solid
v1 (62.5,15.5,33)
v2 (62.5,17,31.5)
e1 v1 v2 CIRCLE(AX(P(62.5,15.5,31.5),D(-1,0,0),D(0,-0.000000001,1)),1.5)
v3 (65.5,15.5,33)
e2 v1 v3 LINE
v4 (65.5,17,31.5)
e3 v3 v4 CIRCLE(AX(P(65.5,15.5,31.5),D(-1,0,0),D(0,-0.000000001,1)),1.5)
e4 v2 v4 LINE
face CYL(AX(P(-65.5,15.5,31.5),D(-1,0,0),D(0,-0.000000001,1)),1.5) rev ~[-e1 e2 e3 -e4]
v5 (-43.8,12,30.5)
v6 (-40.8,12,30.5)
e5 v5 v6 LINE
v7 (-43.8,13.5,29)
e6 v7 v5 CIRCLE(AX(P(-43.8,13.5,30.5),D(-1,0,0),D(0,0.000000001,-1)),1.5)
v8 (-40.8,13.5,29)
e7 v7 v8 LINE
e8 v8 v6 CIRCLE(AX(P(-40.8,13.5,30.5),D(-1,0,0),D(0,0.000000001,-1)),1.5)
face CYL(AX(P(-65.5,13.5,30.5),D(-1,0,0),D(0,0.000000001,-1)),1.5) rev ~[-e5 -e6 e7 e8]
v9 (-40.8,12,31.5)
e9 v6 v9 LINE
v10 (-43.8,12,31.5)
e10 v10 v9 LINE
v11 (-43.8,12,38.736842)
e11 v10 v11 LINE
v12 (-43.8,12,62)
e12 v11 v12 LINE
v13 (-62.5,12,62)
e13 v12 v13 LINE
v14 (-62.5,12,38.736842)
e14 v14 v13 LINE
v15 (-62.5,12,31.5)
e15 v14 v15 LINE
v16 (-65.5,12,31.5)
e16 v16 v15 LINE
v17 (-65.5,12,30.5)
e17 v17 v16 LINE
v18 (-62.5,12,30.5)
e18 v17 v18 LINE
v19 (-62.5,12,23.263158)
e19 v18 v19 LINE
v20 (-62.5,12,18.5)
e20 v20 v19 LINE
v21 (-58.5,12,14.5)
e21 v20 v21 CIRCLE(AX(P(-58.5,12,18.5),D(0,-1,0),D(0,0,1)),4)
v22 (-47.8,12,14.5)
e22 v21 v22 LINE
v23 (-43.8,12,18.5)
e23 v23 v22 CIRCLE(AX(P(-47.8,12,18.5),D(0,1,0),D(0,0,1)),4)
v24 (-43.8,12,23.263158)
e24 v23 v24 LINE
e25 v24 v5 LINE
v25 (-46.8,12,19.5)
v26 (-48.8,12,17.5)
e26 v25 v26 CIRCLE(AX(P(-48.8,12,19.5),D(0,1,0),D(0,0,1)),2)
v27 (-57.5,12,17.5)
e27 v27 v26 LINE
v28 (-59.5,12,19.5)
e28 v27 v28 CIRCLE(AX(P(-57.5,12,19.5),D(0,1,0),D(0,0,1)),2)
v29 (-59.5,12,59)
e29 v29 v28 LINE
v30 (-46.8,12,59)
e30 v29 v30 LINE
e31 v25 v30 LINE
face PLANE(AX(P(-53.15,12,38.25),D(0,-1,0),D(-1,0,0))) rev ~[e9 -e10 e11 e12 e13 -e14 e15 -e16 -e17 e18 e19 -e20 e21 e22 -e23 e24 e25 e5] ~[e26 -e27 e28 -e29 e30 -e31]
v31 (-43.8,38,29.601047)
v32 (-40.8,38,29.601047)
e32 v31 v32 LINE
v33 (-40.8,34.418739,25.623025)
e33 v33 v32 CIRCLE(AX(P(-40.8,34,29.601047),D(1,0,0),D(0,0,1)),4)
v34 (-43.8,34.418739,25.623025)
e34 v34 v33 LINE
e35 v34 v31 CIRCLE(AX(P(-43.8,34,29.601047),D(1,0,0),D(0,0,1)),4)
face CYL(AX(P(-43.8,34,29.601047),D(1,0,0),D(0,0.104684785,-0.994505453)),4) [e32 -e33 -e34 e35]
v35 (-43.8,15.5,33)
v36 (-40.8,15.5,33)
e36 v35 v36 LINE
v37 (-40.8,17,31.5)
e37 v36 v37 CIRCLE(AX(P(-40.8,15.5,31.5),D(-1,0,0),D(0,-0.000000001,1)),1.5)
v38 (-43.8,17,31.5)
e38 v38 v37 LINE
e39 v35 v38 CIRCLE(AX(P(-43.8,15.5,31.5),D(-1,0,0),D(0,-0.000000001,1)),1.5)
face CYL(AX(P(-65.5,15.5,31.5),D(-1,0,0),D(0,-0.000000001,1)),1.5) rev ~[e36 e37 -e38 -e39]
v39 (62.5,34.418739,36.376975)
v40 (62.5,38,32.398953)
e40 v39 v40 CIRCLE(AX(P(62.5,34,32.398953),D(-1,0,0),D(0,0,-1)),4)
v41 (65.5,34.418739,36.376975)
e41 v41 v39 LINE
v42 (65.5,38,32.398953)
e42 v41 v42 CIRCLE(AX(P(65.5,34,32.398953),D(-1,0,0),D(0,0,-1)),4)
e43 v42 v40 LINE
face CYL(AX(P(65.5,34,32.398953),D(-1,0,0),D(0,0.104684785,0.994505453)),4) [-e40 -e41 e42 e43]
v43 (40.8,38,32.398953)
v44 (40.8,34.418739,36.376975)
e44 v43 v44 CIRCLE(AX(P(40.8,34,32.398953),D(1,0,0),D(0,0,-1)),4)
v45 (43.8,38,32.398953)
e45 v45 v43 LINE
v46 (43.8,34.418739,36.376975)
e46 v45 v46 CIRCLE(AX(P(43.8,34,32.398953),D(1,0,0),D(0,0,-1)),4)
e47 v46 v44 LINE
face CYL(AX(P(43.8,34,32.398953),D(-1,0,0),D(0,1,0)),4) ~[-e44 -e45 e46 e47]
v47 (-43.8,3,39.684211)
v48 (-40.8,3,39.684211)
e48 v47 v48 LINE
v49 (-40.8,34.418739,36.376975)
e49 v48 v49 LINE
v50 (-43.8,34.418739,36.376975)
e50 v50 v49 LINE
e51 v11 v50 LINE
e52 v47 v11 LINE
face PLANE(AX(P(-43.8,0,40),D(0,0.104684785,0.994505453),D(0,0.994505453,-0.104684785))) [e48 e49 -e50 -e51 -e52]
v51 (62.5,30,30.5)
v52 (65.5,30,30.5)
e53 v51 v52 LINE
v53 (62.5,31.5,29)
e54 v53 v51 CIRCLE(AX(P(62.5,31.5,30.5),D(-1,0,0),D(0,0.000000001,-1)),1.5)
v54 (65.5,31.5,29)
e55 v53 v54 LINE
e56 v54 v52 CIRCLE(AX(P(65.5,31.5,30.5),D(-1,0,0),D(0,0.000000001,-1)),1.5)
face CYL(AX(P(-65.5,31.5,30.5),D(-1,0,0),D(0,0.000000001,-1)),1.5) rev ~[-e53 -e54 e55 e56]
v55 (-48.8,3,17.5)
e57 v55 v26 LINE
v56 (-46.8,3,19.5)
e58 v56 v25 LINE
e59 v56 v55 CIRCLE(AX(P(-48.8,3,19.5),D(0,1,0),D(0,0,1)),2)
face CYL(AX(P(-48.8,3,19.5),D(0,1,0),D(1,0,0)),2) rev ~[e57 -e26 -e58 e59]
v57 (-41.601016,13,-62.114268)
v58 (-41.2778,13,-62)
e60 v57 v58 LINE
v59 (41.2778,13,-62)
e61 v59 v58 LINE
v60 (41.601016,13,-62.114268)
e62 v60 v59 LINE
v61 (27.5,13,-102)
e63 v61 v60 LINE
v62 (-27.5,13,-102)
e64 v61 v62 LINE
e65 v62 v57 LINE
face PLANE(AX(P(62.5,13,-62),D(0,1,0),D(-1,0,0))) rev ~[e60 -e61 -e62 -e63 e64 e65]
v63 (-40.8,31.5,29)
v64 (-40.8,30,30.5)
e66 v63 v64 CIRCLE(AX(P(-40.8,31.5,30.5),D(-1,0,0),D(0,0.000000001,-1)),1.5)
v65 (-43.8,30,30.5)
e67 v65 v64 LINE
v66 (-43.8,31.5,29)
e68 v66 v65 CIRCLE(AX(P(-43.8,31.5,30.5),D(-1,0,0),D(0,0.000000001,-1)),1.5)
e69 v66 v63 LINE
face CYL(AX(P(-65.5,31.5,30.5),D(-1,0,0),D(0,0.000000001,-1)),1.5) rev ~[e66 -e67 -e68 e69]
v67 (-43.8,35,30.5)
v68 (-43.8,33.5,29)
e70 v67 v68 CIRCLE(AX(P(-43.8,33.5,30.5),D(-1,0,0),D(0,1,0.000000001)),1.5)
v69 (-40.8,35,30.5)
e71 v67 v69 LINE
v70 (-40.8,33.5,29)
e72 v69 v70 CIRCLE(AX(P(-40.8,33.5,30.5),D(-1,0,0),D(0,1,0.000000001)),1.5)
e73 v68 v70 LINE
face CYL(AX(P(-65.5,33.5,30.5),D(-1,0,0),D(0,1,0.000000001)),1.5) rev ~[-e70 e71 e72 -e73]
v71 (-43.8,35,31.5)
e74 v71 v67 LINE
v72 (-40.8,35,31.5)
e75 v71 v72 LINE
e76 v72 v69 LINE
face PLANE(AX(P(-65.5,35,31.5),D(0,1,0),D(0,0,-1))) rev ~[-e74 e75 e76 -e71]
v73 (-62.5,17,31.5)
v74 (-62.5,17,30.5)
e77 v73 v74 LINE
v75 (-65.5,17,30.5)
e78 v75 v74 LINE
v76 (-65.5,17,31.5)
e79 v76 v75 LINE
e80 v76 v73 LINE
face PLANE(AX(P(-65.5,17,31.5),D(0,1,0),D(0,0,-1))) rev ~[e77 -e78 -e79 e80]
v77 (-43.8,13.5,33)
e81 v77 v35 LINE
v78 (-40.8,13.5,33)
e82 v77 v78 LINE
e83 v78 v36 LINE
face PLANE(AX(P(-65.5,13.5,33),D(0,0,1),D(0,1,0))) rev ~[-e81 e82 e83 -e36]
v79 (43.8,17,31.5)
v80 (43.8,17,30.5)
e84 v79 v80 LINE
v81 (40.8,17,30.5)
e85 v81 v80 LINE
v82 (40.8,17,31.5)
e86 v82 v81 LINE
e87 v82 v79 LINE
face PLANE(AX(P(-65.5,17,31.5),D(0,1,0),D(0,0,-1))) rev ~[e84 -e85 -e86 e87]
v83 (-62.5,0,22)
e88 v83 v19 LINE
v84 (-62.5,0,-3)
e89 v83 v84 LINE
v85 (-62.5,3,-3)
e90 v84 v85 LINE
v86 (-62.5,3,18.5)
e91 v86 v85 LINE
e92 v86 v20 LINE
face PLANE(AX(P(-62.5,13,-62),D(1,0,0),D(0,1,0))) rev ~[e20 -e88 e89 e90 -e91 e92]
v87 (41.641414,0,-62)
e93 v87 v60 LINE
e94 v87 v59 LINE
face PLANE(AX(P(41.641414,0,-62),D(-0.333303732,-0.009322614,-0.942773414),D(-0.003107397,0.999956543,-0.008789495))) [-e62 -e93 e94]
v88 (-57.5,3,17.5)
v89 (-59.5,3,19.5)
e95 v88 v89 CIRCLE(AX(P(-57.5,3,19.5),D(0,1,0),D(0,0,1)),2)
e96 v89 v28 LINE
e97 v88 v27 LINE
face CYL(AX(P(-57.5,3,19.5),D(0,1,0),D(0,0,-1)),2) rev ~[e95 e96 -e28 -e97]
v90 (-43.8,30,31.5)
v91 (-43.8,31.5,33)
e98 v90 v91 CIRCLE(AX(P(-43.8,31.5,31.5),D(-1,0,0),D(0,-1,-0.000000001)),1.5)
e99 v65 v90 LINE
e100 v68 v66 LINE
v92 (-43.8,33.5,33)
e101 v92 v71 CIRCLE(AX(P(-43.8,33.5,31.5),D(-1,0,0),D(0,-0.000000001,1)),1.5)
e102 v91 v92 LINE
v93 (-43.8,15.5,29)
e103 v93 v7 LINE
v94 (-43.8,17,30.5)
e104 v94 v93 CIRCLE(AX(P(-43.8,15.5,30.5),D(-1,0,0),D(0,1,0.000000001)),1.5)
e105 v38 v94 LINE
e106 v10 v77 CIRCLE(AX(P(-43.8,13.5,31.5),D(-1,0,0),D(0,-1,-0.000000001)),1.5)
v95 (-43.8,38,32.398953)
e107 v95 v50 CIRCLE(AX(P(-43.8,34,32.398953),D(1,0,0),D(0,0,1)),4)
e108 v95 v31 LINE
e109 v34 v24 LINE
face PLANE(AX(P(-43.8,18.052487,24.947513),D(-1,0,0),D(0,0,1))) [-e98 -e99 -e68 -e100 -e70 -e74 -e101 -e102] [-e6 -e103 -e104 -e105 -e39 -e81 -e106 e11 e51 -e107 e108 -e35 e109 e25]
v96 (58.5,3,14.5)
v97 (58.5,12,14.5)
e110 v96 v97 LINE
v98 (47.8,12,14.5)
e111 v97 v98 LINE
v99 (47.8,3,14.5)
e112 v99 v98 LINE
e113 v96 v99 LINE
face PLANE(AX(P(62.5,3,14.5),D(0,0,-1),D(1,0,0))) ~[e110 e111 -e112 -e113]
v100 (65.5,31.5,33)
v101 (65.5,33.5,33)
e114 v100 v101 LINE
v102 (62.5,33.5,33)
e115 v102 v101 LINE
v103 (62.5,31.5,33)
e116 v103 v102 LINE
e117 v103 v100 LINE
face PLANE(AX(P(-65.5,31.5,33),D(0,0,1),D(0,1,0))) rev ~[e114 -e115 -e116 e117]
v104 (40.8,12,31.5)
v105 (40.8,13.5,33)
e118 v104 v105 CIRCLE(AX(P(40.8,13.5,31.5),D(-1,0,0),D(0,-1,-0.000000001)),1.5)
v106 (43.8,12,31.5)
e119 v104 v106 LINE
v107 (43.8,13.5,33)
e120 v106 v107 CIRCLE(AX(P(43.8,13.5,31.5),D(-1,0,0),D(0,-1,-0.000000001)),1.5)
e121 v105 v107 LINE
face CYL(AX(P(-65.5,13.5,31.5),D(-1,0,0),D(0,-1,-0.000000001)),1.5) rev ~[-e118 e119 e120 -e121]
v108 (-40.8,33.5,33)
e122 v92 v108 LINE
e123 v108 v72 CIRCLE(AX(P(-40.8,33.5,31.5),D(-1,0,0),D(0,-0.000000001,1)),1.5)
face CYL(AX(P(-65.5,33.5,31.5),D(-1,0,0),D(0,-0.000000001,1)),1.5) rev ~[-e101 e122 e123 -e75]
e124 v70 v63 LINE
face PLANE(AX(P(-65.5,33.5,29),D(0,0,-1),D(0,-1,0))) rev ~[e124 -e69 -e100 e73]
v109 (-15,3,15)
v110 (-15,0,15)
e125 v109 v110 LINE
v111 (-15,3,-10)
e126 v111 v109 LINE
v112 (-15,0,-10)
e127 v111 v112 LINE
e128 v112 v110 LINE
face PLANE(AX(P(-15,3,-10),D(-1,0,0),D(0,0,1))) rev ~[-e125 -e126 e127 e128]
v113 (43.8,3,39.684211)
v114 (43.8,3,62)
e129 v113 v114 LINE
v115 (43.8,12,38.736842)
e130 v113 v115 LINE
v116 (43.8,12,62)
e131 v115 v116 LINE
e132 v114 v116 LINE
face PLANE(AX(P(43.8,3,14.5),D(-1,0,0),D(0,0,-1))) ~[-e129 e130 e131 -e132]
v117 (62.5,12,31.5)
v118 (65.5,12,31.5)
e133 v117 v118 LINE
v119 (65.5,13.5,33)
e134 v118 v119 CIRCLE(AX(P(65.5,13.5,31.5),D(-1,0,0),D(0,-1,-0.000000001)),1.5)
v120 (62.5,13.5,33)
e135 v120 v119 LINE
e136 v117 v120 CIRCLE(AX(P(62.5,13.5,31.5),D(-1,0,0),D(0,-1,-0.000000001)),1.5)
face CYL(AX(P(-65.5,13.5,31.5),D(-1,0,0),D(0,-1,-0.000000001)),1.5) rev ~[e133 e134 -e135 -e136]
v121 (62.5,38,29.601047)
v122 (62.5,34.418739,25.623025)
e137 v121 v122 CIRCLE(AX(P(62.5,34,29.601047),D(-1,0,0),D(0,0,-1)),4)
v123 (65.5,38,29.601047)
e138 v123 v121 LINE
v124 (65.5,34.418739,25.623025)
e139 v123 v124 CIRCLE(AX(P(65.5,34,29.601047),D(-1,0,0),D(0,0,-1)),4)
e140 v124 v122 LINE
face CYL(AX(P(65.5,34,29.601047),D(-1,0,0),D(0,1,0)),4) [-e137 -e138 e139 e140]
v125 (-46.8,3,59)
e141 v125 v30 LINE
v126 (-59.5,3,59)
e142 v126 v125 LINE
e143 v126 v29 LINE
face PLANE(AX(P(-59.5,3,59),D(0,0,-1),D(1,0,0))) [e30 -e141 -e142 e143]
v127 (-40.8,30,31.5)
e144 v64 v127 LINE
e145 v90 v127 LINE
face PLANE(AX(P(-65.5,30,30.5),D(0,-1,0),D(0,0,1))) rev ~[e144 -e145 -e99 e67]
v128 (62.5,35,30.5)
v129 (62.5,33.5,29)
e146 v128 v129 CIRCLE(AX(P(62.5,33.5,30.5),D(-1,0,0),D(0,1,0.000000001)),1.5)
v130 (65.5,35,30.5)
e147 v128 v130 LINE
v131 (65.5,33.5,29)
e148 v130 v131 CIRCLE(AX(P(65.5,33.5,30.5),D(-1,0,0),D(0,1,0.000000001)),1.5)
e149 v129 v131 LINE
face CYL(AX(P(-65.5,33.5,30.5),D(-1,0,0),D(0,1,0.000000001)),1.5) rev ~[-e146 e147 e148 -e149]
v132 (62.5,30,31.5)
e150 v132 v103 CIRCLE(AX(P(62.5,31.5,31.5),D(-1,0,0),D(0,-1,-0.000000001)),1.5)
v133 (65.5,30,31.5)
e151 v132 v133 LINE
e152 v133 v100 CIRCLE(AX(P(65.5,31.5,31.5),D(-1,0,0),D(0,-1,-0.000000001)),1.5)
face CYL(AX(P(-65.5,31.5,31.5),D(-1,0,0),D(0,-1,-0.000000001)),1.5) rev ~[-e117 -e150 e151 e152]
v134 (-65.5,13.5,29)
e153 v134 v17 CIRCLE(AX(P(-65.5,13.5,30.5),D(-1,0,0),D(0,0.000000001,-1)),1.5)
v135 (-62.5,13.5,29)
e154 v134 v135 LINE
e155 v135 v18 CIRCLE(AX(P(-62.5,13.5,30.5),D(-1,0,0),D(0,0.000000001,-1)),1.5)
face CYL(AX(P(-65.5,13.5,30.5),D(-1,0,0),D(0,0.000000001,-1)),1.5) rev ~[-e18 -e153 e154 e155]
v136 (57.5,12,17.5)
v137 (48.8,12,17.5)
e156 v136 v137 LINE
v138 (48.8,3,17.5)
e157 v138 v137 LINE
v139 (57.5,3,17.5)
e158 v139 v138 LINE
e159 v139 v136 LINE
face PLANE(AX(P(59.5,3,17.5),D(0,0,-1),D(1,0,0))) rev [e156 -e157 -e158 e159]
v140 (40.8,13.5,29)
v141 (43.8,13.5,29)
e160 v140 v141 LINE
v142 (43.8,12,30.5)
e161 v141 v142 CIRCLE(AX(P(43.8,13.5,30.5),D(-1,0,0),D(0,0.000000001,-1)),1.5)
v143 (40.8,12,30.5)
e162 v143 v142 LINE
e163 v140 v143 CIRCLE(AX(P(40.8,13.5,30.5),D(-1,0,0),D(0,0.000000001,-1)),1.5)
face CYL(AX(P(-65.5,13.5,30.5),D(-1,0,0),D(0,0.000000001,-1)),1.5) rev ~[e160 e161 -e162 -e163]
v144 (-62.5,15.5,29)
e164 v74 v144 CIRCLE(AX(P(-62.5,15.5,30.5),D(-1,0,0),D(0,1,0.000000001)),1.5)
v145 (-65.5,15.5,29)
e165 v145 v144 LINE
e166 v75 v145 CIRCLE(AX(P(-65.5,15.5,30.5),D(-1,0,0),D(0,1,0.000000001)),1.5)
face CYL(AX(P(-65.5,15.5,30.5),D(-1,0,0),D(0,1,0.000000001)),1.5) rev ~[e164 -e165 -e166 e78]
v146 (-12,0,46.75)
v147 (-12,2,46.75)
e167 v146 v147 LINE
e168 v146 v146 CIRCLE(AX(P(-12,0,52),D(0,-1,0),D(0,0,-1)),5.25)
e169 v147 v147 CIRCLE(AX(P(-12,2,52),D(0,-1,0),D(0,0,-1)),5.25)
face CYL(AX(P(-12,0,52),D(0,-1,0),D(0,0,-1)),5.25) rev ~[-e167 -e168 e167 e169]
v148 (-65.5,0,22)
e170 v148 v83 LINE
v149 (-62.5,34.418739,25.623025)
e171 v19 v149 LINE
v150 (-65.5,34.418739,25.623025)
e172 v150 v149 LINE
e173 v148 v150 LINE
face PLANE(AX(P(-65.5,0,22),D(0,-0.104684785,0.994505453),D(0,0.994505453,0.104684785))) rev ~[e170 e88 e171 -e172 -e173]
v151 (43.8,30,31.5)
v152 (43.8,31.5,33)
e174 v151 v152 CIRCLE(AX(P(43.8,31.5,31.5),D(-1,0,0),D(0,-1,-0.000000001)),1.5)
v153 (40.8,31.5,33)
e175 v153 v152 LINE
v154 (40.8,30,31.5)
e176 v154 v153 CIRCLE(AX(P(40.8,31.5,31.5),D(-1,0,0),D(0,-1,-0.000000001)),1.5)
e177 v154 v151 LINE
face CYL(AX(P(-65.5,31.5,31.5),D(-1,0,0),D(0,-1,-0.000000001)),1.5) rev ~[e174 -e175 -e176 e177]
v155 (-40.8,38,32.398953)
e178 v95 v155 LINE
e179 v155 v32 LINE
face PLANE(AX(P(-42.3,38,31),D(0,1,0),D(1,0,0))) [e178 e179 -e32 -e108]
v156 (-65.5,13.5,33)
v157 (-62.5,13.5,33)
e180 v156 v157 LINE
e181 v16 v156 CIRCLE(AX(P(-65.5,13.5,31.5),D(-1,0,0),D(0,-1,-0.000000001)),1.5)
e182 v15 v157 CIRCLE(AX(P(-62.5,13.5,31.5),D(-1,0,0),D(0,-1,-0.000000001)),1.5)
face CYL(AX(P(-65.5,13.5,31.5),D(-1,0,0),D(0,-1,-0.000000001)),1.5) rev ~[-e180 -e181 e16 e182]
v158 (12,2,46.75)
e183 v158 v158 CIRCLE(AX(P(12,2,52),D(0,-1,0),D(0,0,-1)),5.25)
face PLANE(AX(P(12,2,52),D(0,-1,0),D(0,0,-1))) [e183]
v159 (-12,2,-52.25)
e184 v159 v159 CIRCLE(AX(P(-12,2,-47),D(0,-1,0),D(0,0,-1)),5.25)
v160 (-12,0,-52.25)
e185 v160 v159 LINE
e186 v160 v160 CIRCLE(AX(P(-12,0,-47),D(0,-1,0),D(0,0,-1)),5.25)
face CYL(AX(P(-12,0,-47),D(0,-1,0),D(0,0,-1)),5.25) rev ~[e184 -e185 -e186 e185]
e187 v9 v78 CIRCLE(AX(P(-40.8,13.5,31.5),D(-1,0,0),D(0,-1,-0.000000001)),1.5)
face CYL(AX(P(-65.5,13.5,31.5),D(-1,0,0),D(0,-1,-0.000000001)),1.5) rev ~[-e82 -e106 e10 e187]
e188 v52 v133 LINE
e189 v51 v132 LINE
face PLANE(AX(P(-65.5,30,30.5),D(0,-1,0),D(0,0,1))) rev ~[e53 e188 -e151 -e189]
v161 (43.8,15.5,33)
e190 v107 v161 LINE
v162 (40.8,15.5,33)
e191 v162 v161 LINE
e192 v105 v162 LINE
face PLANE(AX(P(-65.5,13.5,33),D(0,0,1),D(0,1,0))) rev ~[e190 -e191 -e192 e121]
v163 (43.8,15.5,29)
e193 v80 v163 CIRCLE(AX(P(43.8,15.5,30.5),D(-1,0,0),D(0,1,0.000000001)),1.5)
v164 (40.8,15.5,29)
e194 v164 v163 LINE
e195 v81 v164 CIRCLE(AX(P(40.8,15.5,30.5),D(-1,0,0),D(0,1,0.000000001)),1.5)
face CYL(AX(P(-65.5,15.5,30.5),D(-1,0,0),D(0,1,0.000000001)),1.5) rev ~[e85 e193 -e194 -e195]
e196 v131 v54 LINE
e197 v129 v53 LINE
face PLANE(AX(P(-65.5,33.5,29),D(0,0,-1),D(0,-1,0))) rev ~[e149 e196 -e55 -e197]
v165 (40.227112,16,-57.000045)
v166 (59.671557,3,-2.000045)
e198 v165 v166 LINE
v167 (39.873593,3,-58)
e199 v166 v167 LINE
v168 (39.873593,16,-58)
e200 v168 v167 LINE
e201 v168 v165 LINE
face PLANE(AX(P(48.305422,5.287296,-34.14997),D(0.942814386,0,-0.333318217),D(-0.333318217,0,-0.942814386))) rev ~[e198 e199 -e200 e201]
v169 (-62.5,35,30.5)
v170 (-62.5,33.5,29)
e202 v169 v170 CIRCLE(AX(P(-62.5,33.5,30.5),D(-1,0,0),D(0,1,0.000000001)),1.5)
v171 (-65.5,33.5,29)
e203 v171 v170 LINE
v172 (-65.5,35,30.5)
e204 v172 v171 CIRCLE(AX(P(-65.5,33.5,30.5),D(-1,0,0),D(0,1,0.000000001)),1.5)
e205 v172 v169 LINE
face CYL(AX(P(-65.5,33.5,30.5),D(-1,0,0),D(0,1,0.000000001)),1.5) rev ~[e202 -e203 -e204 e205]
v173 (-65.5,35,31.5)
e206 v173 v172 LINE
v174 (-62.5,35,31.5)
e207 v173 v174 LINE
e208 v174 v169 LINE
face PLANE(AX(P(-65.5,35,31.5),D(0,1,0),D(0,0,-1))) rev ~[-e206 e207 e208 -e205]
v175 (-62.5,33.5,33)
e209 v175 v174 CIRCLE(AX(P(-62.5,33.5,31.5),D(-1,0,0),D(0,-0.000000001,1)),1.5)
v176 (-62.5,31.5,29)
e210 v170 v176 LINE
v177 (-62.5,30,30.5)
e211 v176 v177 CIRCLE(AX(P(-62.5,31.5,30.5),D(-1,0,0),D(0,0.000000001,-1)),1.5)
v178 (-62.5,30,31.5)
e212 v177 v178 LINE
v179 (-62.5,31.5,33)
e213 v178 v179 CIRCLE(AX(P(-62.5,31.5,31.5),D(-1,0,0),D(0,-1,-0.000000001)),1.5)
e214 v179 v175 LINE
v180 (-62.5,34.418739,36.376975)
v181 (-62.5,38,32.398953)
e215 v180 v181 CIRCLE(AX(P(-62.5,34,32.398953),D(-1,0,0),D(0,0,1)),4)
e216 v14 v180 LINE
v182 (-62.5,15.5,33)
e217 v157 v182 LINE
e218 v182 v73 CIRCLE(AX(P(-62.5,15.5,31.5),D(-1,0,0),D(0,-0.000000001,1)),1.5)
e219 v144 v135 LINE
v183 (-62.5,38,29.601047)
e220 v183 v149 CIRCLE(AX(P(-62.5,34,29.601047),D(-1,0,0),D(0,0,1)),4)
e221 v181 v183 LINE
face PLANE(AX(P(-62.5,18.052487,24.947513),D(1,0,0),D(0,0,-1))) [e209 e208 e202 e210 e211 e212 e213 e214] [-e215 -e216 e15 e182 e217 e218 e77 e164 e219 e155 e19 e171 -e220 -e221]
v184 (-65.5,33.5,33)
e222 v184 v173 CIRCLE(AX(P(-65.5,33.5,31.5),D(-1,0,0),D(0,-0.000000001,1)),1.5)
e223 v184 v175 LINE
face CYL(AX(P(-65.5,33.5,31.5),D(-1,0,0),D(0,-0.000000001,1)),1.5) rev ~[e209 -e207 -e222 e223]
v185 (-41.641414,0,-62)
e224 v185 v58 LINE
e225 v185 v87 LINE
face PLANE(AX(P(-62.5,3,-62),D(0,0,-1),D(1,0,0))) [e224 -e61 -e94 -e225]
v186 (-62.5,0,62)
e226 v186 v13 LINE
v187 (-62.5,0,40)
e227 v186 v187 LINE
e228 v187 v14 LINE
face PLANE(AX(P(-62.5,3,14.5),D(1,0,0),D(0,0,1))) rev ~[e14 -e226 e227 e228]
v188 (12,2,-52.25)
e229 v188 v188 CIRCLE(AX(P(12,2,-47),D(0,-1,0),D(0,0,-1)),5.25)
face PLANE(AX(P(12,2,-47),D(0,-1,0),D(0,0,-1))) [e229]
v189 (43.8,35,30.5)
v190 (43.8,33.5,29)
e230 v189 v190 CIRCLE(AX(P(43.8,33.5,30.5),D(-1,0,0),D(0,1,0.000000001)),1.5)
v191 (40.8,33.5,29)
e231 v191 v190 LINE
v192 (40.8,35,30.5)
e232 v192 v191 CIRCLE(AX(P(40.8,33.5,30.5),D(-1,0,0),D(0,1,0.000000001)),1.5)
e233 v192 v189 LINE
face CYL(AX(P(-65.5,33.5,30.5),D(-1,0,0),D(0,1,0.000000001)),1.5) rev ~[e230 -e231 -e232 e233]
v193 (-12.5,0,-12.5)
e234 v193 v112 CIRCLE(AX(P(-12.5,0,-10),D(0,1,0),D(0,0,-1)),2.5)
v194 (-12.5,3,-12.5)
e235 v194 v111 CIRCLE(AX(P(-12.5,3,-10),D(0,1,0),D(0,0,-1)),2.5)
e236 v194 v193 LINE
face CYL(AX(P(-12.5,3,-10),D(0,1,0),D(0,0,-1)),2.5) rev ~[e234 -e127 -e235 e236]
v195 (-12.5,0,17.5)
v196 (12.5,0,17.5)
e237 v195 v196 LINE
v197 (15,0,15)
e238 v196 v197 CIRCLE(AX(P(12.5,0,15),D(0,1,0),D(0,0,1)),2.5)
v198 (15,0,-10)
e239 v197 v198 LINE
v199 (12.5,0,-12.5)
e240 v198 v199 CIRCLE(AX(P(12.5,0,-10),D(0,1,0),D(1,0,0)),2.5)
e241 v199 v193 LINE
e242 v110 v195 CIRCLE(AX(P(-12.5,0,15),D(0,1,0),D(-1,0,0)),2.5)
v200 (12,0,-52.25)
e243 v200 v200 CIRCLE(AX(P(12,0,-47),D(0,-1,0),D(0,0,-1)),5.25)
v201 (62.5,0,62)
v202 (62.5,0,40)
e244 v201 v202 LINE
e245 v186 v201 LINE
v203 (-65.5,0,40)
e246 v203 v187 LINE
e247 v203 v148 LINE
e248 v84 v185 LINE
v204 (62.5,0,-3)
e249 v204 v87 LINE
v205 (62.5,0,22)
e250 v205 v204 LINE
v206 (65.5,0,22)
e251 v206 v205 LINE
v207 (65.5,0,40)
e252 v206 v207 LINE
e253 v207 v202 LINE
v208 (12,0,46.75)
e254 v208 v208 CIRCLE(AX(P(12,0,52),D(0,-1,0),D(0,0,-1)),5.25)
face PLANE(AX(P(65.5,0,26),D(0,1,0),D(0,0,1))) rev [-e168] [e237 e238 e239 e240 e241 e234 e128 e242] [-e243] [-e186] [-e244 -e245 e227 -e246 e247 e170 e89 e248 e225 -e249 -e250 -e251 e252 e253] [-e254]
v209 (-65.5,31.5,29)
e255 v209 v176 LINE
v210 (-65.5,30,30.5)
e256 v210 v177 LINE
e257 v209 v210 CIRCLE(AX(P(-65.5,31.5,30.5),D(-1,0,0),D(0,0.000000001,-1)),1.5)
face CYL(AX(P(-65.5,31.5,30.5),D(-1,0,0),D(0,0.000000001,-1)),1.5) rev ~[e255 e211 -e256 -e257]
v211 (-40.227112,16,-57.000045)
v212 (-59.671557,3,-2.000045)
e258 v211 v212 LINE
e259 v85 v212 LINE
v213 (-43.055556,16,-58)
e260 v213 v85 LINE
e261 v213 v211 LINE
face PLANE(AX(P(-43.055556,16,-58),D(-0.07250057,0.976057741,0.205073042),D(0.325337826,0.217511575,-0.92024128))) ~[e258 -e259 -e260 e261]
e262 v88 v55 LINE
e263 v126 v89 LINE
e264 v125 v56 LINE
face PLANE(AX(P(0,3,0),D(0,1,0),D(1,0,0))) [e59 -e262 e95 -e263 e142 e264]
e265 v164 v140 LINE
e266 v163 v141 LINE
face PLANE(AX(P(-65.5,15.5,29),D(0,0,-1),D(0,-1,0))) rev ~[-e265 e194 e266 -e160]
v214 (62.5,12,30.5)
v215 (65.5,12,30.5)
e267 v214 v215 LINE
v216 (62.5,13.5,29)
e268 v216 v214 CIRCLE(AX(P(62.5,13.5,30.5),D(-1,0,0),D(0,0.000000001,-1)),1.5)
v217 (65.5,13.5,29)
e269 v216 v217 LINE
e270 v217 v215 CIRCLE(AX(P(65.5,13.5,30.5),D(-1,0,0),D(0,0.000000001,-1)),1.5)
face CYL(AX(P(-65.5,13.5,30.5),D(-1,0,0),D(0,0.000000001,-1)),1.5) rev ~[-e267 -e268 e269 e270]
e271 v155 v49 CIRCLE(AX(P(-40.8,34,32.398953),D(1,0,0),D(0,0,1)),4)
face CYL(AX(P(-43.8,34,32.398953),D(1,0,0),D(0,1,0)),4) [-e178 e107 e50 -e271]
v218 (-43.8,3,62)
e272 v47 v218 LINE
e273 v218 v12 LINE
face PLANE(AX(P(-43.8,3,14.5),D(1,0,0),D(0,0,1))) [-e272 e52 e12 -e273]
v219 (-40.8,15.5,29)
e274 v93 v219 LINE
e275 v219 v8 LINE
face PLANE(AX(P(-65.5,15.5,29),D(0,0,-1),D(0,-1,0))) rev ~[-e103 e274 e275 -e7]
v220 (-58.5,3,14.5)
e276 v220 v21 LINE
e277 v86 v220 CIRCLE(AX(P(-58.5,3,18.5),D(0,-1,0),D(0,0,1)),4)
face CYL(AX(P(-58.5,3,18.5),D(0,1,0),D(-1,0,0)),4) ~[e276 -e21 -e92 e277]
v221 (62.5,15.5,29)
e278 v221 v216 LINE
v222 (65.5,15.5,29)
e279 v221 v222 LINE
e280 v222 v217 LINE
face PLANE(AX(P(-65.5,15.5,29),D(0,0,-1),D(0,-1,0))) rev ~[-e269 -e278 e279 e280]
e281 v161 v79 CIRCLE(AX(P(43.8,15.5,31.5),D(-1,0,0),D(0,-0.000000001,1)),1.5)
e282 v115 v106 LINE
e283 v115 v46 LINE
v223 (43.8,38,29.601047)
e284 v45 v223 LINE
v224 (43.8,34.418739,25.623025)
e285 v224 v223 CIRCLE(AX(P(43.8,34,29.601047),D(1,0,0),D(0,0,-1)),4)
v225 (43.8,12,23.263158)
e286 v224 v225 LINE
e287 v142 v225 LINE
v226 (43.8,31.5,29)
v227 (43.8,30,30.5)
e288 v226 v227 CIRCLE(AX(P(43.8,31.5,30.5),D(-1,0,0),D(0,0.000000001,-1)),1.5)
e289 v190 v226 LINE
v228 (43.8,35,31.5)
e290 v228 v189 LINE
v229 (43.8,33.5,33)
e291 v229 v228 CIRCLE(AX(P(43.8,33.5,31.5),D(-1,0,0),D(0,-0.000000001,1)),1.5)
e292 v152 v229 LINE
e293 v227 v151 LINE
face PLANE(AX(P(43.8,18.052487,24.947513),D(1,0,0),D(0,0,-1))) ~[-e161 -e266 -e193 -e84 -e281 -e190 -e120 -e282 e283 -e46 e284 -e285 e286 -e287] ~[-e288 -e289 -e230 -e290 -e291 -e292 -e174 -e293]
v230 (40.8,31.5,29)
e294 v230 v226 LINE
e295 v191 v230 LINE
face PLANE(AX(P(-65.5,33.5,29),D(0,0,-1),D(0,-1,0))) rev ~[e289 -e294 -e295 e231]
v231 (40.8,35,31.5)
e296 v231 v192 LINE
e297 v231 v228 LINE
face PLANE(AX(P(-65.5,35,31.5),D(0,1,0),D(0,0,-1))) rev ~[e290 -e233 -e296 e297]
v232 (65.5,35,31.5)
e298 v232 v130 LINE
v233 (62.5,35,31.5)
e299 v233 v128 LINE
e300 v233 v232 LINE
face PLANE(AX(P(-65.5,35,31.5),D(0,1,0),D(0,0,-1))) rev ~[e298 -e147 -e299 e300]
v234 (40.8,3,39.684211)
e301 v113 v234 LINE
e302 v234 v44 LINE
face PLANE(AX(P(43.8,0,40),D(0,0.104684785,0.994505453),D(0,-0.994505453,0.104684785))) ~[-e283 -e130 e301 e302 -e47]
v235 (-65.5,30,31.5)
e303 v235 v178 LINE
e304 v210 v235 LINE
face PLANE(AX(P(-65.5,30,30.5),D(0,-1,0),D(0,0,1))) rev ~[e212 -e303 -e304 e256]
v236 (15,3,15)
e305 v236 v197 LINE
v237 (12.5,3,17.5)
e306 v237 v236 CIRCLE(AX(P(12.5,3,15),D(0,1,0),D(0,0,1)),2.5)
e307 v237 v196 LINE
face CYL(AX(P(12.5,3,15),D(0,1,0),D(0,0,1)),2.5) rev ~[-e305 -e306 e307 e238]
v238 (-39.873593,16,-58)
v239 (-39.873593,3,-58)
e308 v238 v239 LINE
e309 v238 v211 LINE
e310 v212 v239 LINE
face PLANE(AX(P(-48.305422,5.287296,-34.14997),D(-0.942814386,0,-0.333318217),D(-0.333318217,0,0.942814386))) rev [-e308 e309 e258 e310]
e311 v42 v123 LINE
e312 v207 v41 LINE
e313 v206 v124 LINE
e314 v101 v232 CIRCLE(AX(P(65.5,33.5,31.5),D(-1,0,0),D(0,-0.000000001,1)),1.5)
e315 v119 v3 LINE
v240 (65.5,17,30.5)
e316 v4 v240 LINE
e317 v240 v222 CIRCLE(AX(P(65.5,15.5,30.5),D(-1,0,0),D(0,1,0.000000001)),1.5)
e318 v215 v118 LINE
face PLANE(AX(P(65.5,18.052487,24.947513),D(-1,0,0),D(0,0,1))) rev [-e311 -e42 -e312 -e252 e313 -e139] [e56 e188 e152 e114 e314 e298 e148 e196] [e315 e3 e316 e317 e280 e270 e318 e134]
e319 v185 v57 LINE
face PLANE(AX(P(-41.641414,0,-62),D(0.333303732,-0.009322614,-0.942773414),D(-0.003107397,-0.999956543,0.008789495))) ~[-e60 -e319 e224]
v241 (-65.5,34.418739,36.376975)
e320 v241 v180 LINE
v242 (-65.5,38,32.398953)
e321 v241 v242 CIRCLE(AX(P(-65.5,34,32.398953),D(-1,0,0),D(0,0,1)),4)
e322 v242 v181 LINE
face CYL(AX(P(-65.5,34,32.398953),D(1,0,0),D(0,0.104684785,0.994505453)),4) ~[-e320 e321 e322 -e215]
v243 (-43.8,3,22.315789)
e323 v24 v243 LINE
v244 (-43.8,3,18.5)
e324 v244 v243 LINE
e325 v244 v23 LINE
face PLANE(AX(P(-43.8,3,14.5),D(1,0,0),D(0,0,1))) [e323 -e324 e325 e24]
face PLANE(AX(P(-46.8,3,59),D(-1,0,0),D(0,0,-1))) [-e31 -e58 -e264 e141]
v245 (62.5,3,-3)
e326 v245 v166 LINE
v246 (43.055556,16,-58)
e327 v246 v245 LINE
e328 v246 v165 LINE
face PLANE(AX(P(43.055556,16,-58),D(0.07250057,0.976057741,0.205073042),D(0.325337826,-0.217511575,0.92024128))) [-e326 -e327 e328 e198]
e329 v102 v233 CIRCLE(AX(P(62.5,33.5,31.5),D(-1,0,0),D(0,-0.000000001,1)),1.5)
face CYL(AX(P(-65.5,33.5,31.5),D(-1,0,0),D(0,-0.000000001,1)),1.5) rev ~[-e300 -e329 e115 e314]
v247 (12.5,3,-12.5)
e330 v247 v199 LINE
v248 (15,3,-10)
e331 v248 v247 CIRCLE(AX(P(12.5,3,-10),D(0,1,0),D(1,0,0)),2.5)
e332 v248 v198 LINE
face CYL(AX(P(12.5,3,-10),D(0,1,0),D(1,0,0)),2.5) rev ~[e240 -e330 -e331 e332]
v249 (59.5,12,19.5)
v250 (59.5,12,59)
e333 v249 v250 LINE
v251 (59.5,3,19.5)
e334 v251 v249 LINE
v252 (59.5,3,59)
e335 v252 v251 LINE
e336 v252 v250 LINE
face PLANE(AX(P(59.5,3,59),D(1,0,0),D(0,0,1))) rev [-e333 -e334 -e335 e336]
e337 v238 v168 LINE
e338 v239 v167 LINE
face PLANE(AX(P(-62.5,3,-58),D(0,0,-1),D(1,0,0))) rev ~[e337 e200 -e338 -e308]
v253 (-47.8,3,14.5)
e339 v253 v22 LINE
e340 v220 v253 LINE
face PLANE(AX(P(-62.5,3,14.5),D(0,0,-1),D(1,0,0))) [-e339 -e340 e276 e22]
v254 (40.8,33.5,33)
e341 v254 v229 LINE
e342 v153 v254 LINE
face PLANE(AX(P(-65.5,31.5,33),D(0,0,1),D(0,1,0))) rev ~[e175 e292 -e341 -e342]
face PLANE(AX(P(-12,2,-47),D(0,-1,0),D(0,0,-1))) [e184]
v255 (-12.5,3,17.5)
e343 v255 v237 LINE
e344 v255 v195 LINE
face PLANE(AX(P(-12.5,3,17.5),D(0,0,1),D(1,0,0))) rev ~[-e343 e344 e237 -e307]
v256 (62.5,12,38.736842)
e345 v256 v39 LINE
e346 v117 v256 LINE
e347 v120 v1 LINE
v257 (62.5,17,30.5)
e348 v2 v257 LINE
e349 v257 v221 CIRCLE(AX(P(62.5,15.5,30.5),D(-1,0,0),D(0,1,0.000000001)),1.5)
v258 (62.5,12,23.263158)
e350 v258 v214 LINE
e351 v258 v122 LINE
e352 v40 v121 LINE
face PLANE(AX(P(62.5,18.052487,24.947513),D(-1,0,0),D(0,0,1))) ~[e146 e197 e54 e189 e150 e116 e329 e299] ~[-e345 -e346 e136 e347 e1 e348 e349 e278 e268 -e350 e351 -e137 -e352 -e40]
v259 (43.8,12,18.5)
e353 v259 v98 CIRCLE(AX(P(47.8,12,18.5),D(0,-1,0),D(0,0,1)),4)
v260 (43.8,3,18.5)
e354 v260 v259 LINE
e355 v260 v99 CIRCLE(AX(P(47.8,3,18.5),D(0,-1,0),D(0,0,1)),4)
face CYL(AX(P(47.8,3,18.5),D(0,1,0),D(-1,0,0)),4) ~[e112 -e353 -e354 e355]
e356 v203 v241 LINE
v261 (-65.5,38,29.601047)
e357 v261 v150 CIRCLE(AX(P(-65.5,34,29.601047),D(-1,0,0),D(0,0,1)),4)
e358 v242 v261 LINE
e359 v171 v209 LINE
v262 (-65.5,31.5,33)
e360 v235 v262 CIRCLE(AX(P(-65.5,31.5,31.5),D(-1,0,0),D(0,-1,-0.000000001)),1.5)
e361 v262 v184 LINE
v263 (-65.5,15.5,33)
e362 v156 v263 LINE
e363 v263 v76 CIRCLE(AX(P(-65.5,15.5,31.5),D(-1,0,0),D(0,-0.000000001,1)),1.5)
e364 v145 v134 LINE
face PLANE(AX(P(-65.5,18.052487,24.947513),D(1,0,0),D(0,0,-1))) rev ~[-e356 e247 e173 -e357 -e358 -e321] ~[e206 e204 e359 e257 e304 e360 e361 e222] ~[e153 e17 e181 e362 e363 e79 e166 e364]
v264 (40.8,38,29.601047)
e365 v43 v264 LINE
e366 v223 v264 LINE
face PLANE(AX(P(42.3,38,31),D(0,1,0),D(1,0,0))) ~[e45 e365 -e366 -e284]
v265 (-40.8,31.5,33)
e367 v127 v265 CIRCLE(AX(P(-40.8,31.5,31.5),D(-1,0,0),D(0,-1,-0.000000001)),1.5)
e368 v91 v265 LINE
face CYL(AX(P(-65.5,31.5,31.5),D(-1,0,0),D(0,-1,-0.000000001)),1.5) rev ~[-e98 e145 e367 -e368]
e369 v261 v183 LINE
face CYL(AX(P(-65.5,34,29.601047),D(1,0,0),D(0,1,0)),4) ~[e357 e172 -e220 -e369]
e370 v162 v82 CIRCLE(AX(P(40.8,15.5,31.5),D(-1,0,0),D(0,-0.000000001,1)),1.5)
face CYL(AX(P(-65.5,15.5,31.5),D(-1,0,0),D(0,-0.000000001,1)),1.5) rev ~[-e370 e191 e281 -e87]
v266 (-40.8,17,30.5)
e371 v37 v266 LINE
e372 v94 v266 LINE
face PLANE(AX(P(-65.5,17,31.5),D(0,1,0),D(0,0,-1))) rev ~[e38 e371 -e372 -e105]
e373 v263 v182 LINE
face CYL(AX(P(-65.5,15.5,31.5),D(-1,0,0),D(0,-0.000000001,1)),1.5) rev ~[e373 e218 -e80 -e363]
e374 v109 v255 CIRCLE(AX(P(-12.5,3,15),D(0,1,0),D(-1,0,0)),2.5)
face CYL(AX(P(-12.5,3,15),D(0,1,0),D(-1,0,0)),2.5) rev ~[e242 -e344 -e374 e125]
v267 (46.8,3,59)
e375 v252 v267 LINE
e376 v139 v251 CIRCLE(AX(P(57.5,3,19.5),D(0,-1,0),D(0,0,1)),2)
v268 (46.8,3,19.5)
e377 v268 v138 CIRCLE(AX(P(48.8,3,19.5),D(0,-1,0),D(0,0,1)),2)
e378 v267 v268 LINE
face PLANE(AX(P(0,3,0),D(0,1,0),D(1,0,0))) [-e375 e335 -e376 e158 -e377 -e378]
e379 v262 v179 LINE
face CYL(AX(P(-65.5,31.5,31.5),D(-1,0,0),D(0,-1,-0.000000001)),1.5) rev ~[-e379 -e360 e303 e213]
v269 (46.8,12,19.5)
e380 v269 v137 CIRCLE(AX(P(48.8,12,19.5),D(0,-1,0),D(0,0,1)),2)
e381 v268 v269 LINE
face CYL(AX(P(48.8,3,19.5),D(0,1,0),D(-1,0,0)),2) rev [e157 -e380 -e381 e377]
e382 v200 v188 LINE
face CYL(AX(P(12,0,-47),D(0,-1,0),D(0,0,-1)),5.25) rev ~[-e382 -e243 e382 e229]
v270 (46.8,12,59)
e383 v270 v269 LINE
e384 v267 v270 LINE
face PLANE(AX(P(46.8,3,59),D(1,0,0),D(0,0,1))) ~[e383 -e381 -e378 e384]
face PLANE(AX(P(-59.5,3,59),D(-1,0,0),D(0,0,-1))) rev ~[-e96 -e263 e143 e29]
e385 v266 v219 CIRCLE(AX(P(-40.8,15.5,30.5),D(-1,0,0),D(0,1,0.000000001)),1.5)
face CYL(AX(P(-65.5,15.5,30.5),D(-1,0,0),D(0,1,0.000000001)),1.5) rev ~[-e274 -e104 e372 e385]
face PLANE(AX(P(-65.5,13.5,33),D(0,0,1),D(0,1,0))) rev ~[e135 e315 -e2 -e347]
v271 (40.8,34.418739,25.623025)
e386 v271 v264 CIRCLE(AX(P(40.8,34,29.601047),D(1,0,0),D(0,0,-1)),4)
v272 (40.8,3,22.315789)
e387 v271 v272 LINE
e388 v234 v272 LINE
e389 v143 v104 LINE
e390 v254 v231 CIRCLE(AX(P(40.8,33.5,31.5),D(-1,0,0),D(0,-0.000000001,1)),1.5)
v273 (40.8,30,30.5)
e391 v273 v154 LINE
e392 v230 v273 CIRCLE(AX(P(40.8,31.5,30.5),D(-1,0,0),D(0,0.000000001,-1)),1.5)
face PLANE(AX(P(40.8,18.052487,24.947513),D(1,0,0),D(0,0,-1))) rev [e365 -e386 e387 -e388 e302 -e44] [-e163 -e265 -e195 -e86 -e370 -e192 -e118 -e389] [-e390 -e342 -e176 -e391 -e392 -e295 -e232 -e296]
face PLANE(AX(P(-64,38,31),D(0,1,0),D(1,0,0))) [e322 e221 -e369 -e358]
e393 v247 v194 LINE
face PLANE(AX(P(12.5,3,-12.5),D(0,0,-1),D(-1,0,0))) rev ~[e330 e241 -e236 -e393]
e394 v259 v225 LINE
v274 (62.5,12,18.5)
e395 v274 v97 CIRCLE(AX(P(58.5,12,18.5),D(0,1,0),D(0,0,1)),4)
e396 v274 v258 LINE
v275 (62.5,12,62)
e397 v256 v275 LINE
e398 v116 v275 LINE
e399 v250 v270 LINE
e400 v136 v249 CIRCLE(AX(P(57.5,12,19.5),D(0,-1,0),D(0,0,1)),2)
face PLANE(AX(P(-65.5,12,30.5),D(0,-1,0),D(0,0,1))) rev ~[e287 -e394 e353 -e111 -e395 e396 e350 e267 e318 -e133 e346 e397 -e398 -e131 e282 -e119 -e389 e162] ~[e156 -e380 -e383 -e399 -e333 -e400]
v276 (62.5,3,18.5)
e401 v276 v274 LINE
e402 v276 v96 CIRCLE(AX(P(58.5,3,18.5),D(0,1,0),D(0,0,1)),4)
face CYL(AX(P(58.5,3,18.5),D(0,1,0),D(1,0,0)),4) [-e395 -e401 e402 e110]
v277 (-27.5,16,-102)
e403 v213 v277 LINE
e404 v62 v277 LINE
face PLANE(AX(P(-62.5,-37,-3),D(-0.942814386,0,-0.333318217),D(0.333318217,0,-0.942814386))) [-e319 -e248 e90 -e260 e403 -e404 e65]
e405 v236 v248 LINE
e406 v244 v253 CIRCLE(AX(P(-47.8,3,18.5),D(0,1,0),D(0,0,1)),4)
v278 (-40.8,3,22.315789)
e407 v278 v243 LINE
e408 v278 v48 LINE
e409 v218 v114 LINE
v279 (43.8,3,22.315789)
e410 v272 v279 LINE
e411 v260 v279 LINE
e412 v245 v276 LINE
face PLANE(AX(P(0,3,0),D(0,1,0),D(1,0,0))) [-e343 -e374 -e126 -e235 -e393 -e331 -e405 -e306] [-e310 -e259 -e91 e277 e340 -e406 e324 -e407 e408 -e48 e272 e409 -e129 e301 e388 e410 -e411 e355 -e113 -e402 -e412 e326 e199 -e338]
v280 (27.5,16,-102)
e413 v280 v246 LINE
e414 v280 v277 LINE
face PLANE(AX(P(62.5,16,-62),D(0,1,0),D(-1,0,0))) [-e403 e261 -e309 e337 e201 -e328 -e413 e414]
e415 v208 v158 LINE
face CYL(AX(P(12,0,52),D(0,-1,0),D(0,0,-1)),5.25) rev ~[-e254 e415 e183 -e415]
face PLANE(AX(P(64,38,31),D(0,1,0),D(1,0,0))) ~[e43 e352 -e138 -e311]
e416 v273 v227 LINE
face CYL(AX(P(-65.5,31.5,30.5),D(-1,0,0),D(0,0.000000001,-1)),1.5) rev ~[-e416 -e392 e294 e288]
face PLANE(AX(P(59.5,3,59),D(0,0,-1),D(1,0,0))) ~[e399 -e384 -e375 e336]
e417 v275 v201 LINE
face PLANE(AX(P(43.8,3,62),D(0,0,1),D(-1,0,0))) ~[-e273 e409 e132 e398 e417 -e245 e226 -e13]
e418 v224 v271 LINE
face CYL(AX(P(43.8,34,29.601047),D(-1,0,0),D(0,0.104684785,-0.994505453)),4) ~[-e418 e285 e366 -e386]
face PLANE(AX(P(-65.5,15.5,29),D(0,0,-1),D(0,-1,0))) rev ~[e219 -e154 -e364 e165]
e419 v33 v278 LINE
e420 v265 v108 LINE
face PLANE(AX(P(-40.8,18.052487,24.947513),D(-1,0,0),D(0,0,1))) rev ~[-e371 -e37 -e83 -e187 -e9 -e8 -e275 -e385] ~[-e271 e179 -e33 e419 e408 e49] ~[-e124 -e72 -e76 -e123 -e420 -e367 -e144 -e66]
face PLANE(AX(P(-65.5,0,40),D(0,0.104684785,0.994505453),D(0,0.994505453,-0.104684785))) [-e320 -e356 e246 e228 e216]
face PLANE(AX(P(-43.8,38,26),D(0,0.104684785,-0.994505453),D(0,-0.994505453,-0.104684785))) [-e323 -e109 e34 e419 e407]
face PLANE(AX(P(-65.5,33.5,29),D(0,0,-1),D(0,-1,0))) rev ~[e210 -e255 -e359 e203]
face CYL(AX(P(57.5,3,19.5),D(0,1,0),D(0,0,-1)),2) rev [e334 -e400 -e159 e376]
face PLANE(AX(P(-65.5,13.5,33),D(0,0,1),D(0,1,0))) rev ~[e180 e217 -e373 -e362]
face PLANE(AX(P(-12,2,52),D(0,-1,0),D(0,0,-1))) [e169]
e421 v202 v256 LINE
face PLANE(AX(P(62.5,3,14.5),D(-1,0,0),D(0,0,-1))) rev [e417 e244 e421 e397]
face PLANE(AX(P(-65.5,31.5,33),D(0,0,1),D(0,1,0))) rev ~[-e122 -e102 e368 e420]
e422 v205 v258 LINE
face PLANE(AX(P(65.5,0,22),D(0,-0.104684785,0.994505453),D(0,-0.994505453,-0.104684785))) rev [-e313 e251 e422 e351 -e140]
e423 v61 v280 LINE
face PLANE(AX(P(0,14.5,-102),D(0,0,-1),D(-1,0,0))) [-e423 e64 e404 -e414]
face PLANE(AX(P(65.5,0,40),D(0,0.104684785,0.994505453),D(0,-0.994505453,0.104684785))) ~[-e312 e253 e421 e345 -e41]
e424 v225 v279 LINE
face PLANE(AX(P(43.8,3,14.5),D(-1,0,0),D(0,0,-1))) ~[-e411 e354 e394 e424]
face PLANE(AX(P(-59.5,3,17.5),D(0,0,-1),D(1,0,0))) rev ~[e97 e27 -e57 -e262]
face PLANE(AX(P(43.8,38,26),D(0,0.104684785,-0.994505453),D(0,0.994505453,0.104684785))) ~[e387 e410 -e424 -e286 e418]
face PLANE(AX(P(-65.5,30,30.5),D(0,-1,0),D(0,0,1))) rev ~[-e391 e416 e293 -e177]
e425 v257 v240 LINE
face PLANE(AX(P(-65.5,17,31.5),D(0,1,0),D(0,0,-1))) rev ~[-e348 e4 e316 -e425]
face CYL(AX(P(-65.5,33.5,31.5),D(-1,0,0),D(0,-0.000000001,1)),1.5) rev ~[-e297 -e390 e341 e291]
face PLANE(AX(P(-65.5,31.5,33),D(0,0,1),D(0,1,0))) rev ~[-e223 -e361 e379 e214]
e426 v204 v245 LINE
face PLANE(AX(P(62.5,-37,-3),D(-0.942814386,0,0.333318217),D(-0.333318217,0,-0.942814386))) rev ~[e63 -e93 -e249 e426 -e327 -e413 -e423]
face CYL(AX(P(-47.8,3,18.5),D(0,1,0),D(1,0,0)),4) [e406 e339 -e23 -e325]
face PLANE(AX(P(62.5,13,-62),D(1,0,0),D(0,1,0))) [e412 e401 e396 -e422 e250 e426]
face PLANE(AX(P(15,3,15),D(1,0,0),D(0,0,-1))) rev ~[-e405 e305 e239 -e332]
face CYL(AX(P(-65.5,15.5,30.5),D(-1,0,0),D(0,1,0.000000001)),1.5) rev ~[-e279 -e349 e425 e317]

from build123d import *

# Parameters (mm, degrees)
ESBO_O1_W             = 125
ESBO_O1_H             = 124
EXTRUS_O1_DEPTH       = 3
ESBO_O2_W             = 12.7
ESBO_O2_H             = 41.5
EXTRUS_O2_DEPTH       = 9
FILETE1_R             = 4
FILETE2_R             = 2
FILETE3_R             = 4
FILETE4_R             = 2
EXTRUS_O4_START       = -3
ESBO_O3_W             = 3
ESBO_O3_H             = 10
EXTRUS_O4_DEPTH       = 38
EXTRUS_O5_DEPTH       = 150.829903557
EXTRUS_O6_DEPTH       = 150.829903557
EXTRUS_O7_DEPTH       = 3
EXTRUS_O8_DEPTH       = 3
FILETE5_R             = 4
FILETE6_R             = 4
EXTRUS_O9_DEPTH       = 3
ESBO_O10_W            = 125
ESBO_O10_H            = 4
EXTRUS_O10_DEPTH      = 13
ESBO_O11_W            = 125
ESBO_O11_H            = 3
EXTRUS_O11_DEPTH      = 40
EXTRUS_O12_DEPTH      = 40
EXTRUS_O12_DEPTH_BACK = 40
EXTRUS_O18_DEPTH      = 3
ESBO_O16_R            = 5.25
EXTRUS_O19_DEPTH      = 2


with BuildPart() as part:
    # Esboço1 → Extrusão1 (new body)
    with BuildSketch(Plane(origin=(0, 0, 0), x_dir=(1, 0, 0), z_dir=(0, 1, 0))):
        Rectangle(ESBO_O1_W, ESBO_O1_H)
    extrude(amount=EXTRUS_O1_DEPTH)

    # Esboço2 → Extrusão2 (add)
    with BuildSketch(Plane(origin=(0, 3, 0), x_dir=(1, 0, 0), z_dir=(0, 1, 0))):
        Polygon((-62.5, -26), (-62.5, -14.5), (-43.8, -14.5), (-43.8, -62), (-62.5, -62), (-62.5, -36), align=None)
        with Locations((-53.15, -38.25)):
            Rectangle(ESBO_O2_W, ESBO_O2_H, mode=Mode.SUBTRACT)
    extrus_o2 = extrude(amount=EXTRUS_O2_DEPTH)

    # Filete1
    filete1_edges = [part.edges().sort_by_distance(p)[0] for p in [
        (-62.5, 7.5, 14.5),
        (-43.8, 7.5, 14.5),
    ]]
    fillet(filete1_edges, radius=FILETE1_R)

    # Filete2
    filete2_edges = [part.edges().sort_by_distance(p)[0] for p in [
        (-46.8, 7.5, 17.5),
        (-59.5, 7.5, 17.5),
    ]]
    fillet(filete2_edges, radius=FILETE2_R)

    # Espelhar3: Extrusão2 across plane
    add(extrus_o2.mirror(Plane(origin=(0, 0, 0), x_dir=(0, 0, 1), z_dir=(1, 0, 0))))

    # Filete3
    filete3_edges = [part.edges().sort_by_distance(p)[0] for p in [
        (62.5, 7.5, 14.5),
        (43.8, 7.5, 14.5),
    ]]
    fillet(filete3_edges, radius=FILETE3_R)

    # Filete4
    filete4_edges = [part.edges().sort_by_distance(p)[0] for p in [
        (59.5, 7.5, 17.5),
        (46.8, 7.5, 17.5),
    ]]
    fillet(filete4_edges, radius=FILETE4_R)

    # Esboço3 → Extrusão4 (add)
    with BuildSketch(Plane(origin=(0, 3, 0), x_dir=(1, 0, 0), z_dir=(0, 1, 0)).offset(EXTRUS_O4_START)):
        with Locations((-64, -31)):
            Rectangle(ESBO_O3_W, ESBO_O3_H)
        with Locations((-42.3, -31)):
            Rectangle(ESBO_O3_W, ESBO_O3_H)
    extrus_o4 = extrude(amount=EXTRUS_O4_DEPTH)

    # Espelhar6: Extrusão4 across plane
    add(extrus_o4.mirror(Plane(origin=(0, 0, 0), x_dir=(0, 0, 1), z_dir=(1, 0, 0))))

    # Esboço5 → Extrusão5 (cut, through all)
    with BuildSketch(Plane.ZY.offset(65.5)):
        with BuildLine():
            Line((30.5, 12), (31.5, 12))
            ThreePointArc((31.5, 12), (32.560660172, 12.439339828), (33, 13.5))
            Line((33, 13.5), (33, 15.5))
            ThreePointArc((33, 15.5), (32.560660172, 16.560660172), (31.5, 17))
            Line((31.5, 17), (30.5, 17))
            ThreePointArc((30.5, 17), (29.439339828, 16.560660172), (29, 15.5))
            Line((29, 15.5), (29, 13.5))
            ThreePointArc((29, 13.5), (29.439339828, 12.439339828), (30.5, 12))
        make_face()
    extrude(amount=-EXTRUS_O5_DEPTH, mode=Mode.SUBTRACT)

    # Esboço6 → Extrusão6 (cut, through all)
    with BuildSketch(Plane.ZY.offset(65.5)):
        with BuildLine():
            Line((30.5, 30), (31.5, 30))
            ThreePointArc((31.5, 30), (32.560660172, 30.439339828), (33, 31.5))
            Line((33, 31.5), (33, 33.5))
            ThreePointArc((33, 33.5), (32.560660172, 34.560660172), (31.5, 35))
            Line((31.5, 35), (30.5, 35))
            ThreePointArc((30.5, 35), (29.439339828, 34.560660172), (29, 33.5))
            Line((29, 33.5), (29, 31.5))
            ThreePointArc((29, 31.5), (29.439339828, 30.439339828), (30.5, 30))
        make_face()
    extrude(amount=-EXTRUS_O6_DEPTH, mode=Mode.SUBTRACT)

    # Esboço7 → Extrusão7 (add)
    with BuildSketch(Plane.ZY.offset(65.5)):
        Polygon((26, 0), (22, 0), (26, 38), align=None)
        Polygon((36, 38), (36, 0), (40, 0), align=None)
    extrus_o7 = extrude(amount=-EXTRUS_O7_DEPTH)

    # Esboço8 → Extrusão8 (add)
    with BuildSketch(Plane.ZY.offset(43.8)):
        Polygon((26, 38), (22, 0), (26, 0), align=None)
        Polygon((36, 38), (36, 0), (40, 0), align=None)
    extrus_o8 = extrude(amount=-EXTRUS_O8_DEPTH)

    # Filete5
    filete5_edges = [part.edges().sort_by_distance(p)[0] for p in [
        (-64, 38, 26),
        (-64, 38, 36),
        (-42.3, 38, 36),
        (-42.3, 38, 26),
    ]]
    fillet(filete5_edges, radius=FILETE5_R)

    # Espelhar9: Extrusão7, Extrusão8 across plane
    add(extrus_o7.mirror(Plane(origin=(0, 0, 0), x_dir=(0, 0, 1), z_dir=(1, 0, 0))))
    add(extrus_o8.mirror(Plane(origin=(0, 0, 0), x_dir=(0, 0, 1), z_dir=(1, 0, 0))))

    # Filete6
    filete6_edges = [part.edges().sort_by_distance(p)[0] for p in [
        (64, 38, 26),
        (64, 38, 36),
        (42.3, 38, 36),
        (42.3, 38, 26),
    ]]
    fillet(filete6_edges, radius=FILETE6_R)

    # Esboço9 → Extrusão9 (cut)
    with BuildSketch(Plane(origin=(0, 3, 0), x_dir=(1, 0, 0), z_dir=(0, 1, 0))):
        with BuildLine():
            Line((-12.5, -17.5), (12.5, -17.5))
            ThreePointArc((12.5, -17.5), (14.267766953, -16.767766953), (15, -15))
            Line((15, -15), (15, 10))
            ThreePointArc((15, 10), (14.267766953, 11.767766953), (12.5, 12.5))
            Line((12.5, 12.5), (-12.5, 12.5))
            ThreePointArc((-12.5, 12.5), (-14.267766953, 11.767766953), (-15, 10))
            Line((-15, 10), (-15, -15))
            ThreePointArc((-15, -15), (-14.267766953, -16.767766953), (-12.5, -17.5))
        make_face()
    extrude(amount=-EXTRUS_O9_DEPTH, mode=Mode.SUBTRACT)

    # Esboço10 → Extrusão10 (add)
    with BuildSketch(Plane(origin=(0, 3, 0), x_dir=(1, 0, 0), z_dir=(0, 1, 0))):
        with Locations((0, 60)):
            Rectangle(ESBO_O10_W, ESBO_O10_H)
    extrude(amount=EXTRUS_O10_DEPTH)

    # Esboço11 → Extrusão11 (add)
    with BuildSketch(Plane(origin=(0, 0, -62), x_dir=(-1, 0, 0), z_dir=(0, 0, -1))):
        with Locations((0, 14.5)):
            Rectangle(ESBO_O11_W, ESBO_O11_H)
    extrude(amount=EXTRUS_O11_DEPTH)

    # Esboço13 → Extrusão12 (cut, two sides: drawn at the far end of the back side and taken through both)
    with BuildSketch(Plane(origin=(0, 3, 0), x_dir=(1, 0, 0), z_dir=(0, 1, 0)).offset(-EXTRUS_O12_DEPTH_BACK)):
        Polygon((-62.5, 3), (-27.5, 102), (-62.5, 102), align=None)
        Polygon((27.5, 102), (62.5, 102), (62.5, 3), align=None)
    extrude(amount=EXTRUS_O12_DEPTH + EXTRUS_O12_DEPTH_BACK, mode=Mode.SUBTRACT)

    # Esboço15 → Extrusão18 (add)
    with BuildSketch(Plane(origin=(56.498957011, 0, -19.974378741), x_dir=(-0.3333182172036595, 0, -0.9428143858046366), z_dir=(0.9428143858046366, 0, -0.3333182172036595))):
        Polygon((44.72381831, 16), (40.332033358, 16), (-18.003945418, 3), (-18.003945418, 0), (44.574649996, 0), align=None)
    extrus_o18 = extrude(amount=-EXTRUS_O18_DEPTH)

    # Espelhar10: Extrusão18 across plane
    add(extrus_o18.mirror(Plane(origin=(0, 0, 0), x_dir=(0, 0, 1), z_dir=(1, 0, 0))))

    # Esboço16 → Extrusão19 (cut)
    with BuildSketch(Plane.XZ):
        with Locations(Location((-12, 52, 0), (0, 0, 270))):
            Circle(ESBO_O16_R)
        with Locations(Location((12, 52, 0), (0, 0, 270))):
            Circle(ESBO_O16_R)
        with Locations(Location((-12, -47, 0), (0, 0, 270))):
            Circle(ESBO_O16_R)
        with Locations(Location((12, -47, 0), (0, 0, 270))):
            Circle(ESBO_O16_R)
    extrude(amount=-EXTRUS_O19_DEPTH, mode=Mode.SUBTRACT)


solid = part.part
